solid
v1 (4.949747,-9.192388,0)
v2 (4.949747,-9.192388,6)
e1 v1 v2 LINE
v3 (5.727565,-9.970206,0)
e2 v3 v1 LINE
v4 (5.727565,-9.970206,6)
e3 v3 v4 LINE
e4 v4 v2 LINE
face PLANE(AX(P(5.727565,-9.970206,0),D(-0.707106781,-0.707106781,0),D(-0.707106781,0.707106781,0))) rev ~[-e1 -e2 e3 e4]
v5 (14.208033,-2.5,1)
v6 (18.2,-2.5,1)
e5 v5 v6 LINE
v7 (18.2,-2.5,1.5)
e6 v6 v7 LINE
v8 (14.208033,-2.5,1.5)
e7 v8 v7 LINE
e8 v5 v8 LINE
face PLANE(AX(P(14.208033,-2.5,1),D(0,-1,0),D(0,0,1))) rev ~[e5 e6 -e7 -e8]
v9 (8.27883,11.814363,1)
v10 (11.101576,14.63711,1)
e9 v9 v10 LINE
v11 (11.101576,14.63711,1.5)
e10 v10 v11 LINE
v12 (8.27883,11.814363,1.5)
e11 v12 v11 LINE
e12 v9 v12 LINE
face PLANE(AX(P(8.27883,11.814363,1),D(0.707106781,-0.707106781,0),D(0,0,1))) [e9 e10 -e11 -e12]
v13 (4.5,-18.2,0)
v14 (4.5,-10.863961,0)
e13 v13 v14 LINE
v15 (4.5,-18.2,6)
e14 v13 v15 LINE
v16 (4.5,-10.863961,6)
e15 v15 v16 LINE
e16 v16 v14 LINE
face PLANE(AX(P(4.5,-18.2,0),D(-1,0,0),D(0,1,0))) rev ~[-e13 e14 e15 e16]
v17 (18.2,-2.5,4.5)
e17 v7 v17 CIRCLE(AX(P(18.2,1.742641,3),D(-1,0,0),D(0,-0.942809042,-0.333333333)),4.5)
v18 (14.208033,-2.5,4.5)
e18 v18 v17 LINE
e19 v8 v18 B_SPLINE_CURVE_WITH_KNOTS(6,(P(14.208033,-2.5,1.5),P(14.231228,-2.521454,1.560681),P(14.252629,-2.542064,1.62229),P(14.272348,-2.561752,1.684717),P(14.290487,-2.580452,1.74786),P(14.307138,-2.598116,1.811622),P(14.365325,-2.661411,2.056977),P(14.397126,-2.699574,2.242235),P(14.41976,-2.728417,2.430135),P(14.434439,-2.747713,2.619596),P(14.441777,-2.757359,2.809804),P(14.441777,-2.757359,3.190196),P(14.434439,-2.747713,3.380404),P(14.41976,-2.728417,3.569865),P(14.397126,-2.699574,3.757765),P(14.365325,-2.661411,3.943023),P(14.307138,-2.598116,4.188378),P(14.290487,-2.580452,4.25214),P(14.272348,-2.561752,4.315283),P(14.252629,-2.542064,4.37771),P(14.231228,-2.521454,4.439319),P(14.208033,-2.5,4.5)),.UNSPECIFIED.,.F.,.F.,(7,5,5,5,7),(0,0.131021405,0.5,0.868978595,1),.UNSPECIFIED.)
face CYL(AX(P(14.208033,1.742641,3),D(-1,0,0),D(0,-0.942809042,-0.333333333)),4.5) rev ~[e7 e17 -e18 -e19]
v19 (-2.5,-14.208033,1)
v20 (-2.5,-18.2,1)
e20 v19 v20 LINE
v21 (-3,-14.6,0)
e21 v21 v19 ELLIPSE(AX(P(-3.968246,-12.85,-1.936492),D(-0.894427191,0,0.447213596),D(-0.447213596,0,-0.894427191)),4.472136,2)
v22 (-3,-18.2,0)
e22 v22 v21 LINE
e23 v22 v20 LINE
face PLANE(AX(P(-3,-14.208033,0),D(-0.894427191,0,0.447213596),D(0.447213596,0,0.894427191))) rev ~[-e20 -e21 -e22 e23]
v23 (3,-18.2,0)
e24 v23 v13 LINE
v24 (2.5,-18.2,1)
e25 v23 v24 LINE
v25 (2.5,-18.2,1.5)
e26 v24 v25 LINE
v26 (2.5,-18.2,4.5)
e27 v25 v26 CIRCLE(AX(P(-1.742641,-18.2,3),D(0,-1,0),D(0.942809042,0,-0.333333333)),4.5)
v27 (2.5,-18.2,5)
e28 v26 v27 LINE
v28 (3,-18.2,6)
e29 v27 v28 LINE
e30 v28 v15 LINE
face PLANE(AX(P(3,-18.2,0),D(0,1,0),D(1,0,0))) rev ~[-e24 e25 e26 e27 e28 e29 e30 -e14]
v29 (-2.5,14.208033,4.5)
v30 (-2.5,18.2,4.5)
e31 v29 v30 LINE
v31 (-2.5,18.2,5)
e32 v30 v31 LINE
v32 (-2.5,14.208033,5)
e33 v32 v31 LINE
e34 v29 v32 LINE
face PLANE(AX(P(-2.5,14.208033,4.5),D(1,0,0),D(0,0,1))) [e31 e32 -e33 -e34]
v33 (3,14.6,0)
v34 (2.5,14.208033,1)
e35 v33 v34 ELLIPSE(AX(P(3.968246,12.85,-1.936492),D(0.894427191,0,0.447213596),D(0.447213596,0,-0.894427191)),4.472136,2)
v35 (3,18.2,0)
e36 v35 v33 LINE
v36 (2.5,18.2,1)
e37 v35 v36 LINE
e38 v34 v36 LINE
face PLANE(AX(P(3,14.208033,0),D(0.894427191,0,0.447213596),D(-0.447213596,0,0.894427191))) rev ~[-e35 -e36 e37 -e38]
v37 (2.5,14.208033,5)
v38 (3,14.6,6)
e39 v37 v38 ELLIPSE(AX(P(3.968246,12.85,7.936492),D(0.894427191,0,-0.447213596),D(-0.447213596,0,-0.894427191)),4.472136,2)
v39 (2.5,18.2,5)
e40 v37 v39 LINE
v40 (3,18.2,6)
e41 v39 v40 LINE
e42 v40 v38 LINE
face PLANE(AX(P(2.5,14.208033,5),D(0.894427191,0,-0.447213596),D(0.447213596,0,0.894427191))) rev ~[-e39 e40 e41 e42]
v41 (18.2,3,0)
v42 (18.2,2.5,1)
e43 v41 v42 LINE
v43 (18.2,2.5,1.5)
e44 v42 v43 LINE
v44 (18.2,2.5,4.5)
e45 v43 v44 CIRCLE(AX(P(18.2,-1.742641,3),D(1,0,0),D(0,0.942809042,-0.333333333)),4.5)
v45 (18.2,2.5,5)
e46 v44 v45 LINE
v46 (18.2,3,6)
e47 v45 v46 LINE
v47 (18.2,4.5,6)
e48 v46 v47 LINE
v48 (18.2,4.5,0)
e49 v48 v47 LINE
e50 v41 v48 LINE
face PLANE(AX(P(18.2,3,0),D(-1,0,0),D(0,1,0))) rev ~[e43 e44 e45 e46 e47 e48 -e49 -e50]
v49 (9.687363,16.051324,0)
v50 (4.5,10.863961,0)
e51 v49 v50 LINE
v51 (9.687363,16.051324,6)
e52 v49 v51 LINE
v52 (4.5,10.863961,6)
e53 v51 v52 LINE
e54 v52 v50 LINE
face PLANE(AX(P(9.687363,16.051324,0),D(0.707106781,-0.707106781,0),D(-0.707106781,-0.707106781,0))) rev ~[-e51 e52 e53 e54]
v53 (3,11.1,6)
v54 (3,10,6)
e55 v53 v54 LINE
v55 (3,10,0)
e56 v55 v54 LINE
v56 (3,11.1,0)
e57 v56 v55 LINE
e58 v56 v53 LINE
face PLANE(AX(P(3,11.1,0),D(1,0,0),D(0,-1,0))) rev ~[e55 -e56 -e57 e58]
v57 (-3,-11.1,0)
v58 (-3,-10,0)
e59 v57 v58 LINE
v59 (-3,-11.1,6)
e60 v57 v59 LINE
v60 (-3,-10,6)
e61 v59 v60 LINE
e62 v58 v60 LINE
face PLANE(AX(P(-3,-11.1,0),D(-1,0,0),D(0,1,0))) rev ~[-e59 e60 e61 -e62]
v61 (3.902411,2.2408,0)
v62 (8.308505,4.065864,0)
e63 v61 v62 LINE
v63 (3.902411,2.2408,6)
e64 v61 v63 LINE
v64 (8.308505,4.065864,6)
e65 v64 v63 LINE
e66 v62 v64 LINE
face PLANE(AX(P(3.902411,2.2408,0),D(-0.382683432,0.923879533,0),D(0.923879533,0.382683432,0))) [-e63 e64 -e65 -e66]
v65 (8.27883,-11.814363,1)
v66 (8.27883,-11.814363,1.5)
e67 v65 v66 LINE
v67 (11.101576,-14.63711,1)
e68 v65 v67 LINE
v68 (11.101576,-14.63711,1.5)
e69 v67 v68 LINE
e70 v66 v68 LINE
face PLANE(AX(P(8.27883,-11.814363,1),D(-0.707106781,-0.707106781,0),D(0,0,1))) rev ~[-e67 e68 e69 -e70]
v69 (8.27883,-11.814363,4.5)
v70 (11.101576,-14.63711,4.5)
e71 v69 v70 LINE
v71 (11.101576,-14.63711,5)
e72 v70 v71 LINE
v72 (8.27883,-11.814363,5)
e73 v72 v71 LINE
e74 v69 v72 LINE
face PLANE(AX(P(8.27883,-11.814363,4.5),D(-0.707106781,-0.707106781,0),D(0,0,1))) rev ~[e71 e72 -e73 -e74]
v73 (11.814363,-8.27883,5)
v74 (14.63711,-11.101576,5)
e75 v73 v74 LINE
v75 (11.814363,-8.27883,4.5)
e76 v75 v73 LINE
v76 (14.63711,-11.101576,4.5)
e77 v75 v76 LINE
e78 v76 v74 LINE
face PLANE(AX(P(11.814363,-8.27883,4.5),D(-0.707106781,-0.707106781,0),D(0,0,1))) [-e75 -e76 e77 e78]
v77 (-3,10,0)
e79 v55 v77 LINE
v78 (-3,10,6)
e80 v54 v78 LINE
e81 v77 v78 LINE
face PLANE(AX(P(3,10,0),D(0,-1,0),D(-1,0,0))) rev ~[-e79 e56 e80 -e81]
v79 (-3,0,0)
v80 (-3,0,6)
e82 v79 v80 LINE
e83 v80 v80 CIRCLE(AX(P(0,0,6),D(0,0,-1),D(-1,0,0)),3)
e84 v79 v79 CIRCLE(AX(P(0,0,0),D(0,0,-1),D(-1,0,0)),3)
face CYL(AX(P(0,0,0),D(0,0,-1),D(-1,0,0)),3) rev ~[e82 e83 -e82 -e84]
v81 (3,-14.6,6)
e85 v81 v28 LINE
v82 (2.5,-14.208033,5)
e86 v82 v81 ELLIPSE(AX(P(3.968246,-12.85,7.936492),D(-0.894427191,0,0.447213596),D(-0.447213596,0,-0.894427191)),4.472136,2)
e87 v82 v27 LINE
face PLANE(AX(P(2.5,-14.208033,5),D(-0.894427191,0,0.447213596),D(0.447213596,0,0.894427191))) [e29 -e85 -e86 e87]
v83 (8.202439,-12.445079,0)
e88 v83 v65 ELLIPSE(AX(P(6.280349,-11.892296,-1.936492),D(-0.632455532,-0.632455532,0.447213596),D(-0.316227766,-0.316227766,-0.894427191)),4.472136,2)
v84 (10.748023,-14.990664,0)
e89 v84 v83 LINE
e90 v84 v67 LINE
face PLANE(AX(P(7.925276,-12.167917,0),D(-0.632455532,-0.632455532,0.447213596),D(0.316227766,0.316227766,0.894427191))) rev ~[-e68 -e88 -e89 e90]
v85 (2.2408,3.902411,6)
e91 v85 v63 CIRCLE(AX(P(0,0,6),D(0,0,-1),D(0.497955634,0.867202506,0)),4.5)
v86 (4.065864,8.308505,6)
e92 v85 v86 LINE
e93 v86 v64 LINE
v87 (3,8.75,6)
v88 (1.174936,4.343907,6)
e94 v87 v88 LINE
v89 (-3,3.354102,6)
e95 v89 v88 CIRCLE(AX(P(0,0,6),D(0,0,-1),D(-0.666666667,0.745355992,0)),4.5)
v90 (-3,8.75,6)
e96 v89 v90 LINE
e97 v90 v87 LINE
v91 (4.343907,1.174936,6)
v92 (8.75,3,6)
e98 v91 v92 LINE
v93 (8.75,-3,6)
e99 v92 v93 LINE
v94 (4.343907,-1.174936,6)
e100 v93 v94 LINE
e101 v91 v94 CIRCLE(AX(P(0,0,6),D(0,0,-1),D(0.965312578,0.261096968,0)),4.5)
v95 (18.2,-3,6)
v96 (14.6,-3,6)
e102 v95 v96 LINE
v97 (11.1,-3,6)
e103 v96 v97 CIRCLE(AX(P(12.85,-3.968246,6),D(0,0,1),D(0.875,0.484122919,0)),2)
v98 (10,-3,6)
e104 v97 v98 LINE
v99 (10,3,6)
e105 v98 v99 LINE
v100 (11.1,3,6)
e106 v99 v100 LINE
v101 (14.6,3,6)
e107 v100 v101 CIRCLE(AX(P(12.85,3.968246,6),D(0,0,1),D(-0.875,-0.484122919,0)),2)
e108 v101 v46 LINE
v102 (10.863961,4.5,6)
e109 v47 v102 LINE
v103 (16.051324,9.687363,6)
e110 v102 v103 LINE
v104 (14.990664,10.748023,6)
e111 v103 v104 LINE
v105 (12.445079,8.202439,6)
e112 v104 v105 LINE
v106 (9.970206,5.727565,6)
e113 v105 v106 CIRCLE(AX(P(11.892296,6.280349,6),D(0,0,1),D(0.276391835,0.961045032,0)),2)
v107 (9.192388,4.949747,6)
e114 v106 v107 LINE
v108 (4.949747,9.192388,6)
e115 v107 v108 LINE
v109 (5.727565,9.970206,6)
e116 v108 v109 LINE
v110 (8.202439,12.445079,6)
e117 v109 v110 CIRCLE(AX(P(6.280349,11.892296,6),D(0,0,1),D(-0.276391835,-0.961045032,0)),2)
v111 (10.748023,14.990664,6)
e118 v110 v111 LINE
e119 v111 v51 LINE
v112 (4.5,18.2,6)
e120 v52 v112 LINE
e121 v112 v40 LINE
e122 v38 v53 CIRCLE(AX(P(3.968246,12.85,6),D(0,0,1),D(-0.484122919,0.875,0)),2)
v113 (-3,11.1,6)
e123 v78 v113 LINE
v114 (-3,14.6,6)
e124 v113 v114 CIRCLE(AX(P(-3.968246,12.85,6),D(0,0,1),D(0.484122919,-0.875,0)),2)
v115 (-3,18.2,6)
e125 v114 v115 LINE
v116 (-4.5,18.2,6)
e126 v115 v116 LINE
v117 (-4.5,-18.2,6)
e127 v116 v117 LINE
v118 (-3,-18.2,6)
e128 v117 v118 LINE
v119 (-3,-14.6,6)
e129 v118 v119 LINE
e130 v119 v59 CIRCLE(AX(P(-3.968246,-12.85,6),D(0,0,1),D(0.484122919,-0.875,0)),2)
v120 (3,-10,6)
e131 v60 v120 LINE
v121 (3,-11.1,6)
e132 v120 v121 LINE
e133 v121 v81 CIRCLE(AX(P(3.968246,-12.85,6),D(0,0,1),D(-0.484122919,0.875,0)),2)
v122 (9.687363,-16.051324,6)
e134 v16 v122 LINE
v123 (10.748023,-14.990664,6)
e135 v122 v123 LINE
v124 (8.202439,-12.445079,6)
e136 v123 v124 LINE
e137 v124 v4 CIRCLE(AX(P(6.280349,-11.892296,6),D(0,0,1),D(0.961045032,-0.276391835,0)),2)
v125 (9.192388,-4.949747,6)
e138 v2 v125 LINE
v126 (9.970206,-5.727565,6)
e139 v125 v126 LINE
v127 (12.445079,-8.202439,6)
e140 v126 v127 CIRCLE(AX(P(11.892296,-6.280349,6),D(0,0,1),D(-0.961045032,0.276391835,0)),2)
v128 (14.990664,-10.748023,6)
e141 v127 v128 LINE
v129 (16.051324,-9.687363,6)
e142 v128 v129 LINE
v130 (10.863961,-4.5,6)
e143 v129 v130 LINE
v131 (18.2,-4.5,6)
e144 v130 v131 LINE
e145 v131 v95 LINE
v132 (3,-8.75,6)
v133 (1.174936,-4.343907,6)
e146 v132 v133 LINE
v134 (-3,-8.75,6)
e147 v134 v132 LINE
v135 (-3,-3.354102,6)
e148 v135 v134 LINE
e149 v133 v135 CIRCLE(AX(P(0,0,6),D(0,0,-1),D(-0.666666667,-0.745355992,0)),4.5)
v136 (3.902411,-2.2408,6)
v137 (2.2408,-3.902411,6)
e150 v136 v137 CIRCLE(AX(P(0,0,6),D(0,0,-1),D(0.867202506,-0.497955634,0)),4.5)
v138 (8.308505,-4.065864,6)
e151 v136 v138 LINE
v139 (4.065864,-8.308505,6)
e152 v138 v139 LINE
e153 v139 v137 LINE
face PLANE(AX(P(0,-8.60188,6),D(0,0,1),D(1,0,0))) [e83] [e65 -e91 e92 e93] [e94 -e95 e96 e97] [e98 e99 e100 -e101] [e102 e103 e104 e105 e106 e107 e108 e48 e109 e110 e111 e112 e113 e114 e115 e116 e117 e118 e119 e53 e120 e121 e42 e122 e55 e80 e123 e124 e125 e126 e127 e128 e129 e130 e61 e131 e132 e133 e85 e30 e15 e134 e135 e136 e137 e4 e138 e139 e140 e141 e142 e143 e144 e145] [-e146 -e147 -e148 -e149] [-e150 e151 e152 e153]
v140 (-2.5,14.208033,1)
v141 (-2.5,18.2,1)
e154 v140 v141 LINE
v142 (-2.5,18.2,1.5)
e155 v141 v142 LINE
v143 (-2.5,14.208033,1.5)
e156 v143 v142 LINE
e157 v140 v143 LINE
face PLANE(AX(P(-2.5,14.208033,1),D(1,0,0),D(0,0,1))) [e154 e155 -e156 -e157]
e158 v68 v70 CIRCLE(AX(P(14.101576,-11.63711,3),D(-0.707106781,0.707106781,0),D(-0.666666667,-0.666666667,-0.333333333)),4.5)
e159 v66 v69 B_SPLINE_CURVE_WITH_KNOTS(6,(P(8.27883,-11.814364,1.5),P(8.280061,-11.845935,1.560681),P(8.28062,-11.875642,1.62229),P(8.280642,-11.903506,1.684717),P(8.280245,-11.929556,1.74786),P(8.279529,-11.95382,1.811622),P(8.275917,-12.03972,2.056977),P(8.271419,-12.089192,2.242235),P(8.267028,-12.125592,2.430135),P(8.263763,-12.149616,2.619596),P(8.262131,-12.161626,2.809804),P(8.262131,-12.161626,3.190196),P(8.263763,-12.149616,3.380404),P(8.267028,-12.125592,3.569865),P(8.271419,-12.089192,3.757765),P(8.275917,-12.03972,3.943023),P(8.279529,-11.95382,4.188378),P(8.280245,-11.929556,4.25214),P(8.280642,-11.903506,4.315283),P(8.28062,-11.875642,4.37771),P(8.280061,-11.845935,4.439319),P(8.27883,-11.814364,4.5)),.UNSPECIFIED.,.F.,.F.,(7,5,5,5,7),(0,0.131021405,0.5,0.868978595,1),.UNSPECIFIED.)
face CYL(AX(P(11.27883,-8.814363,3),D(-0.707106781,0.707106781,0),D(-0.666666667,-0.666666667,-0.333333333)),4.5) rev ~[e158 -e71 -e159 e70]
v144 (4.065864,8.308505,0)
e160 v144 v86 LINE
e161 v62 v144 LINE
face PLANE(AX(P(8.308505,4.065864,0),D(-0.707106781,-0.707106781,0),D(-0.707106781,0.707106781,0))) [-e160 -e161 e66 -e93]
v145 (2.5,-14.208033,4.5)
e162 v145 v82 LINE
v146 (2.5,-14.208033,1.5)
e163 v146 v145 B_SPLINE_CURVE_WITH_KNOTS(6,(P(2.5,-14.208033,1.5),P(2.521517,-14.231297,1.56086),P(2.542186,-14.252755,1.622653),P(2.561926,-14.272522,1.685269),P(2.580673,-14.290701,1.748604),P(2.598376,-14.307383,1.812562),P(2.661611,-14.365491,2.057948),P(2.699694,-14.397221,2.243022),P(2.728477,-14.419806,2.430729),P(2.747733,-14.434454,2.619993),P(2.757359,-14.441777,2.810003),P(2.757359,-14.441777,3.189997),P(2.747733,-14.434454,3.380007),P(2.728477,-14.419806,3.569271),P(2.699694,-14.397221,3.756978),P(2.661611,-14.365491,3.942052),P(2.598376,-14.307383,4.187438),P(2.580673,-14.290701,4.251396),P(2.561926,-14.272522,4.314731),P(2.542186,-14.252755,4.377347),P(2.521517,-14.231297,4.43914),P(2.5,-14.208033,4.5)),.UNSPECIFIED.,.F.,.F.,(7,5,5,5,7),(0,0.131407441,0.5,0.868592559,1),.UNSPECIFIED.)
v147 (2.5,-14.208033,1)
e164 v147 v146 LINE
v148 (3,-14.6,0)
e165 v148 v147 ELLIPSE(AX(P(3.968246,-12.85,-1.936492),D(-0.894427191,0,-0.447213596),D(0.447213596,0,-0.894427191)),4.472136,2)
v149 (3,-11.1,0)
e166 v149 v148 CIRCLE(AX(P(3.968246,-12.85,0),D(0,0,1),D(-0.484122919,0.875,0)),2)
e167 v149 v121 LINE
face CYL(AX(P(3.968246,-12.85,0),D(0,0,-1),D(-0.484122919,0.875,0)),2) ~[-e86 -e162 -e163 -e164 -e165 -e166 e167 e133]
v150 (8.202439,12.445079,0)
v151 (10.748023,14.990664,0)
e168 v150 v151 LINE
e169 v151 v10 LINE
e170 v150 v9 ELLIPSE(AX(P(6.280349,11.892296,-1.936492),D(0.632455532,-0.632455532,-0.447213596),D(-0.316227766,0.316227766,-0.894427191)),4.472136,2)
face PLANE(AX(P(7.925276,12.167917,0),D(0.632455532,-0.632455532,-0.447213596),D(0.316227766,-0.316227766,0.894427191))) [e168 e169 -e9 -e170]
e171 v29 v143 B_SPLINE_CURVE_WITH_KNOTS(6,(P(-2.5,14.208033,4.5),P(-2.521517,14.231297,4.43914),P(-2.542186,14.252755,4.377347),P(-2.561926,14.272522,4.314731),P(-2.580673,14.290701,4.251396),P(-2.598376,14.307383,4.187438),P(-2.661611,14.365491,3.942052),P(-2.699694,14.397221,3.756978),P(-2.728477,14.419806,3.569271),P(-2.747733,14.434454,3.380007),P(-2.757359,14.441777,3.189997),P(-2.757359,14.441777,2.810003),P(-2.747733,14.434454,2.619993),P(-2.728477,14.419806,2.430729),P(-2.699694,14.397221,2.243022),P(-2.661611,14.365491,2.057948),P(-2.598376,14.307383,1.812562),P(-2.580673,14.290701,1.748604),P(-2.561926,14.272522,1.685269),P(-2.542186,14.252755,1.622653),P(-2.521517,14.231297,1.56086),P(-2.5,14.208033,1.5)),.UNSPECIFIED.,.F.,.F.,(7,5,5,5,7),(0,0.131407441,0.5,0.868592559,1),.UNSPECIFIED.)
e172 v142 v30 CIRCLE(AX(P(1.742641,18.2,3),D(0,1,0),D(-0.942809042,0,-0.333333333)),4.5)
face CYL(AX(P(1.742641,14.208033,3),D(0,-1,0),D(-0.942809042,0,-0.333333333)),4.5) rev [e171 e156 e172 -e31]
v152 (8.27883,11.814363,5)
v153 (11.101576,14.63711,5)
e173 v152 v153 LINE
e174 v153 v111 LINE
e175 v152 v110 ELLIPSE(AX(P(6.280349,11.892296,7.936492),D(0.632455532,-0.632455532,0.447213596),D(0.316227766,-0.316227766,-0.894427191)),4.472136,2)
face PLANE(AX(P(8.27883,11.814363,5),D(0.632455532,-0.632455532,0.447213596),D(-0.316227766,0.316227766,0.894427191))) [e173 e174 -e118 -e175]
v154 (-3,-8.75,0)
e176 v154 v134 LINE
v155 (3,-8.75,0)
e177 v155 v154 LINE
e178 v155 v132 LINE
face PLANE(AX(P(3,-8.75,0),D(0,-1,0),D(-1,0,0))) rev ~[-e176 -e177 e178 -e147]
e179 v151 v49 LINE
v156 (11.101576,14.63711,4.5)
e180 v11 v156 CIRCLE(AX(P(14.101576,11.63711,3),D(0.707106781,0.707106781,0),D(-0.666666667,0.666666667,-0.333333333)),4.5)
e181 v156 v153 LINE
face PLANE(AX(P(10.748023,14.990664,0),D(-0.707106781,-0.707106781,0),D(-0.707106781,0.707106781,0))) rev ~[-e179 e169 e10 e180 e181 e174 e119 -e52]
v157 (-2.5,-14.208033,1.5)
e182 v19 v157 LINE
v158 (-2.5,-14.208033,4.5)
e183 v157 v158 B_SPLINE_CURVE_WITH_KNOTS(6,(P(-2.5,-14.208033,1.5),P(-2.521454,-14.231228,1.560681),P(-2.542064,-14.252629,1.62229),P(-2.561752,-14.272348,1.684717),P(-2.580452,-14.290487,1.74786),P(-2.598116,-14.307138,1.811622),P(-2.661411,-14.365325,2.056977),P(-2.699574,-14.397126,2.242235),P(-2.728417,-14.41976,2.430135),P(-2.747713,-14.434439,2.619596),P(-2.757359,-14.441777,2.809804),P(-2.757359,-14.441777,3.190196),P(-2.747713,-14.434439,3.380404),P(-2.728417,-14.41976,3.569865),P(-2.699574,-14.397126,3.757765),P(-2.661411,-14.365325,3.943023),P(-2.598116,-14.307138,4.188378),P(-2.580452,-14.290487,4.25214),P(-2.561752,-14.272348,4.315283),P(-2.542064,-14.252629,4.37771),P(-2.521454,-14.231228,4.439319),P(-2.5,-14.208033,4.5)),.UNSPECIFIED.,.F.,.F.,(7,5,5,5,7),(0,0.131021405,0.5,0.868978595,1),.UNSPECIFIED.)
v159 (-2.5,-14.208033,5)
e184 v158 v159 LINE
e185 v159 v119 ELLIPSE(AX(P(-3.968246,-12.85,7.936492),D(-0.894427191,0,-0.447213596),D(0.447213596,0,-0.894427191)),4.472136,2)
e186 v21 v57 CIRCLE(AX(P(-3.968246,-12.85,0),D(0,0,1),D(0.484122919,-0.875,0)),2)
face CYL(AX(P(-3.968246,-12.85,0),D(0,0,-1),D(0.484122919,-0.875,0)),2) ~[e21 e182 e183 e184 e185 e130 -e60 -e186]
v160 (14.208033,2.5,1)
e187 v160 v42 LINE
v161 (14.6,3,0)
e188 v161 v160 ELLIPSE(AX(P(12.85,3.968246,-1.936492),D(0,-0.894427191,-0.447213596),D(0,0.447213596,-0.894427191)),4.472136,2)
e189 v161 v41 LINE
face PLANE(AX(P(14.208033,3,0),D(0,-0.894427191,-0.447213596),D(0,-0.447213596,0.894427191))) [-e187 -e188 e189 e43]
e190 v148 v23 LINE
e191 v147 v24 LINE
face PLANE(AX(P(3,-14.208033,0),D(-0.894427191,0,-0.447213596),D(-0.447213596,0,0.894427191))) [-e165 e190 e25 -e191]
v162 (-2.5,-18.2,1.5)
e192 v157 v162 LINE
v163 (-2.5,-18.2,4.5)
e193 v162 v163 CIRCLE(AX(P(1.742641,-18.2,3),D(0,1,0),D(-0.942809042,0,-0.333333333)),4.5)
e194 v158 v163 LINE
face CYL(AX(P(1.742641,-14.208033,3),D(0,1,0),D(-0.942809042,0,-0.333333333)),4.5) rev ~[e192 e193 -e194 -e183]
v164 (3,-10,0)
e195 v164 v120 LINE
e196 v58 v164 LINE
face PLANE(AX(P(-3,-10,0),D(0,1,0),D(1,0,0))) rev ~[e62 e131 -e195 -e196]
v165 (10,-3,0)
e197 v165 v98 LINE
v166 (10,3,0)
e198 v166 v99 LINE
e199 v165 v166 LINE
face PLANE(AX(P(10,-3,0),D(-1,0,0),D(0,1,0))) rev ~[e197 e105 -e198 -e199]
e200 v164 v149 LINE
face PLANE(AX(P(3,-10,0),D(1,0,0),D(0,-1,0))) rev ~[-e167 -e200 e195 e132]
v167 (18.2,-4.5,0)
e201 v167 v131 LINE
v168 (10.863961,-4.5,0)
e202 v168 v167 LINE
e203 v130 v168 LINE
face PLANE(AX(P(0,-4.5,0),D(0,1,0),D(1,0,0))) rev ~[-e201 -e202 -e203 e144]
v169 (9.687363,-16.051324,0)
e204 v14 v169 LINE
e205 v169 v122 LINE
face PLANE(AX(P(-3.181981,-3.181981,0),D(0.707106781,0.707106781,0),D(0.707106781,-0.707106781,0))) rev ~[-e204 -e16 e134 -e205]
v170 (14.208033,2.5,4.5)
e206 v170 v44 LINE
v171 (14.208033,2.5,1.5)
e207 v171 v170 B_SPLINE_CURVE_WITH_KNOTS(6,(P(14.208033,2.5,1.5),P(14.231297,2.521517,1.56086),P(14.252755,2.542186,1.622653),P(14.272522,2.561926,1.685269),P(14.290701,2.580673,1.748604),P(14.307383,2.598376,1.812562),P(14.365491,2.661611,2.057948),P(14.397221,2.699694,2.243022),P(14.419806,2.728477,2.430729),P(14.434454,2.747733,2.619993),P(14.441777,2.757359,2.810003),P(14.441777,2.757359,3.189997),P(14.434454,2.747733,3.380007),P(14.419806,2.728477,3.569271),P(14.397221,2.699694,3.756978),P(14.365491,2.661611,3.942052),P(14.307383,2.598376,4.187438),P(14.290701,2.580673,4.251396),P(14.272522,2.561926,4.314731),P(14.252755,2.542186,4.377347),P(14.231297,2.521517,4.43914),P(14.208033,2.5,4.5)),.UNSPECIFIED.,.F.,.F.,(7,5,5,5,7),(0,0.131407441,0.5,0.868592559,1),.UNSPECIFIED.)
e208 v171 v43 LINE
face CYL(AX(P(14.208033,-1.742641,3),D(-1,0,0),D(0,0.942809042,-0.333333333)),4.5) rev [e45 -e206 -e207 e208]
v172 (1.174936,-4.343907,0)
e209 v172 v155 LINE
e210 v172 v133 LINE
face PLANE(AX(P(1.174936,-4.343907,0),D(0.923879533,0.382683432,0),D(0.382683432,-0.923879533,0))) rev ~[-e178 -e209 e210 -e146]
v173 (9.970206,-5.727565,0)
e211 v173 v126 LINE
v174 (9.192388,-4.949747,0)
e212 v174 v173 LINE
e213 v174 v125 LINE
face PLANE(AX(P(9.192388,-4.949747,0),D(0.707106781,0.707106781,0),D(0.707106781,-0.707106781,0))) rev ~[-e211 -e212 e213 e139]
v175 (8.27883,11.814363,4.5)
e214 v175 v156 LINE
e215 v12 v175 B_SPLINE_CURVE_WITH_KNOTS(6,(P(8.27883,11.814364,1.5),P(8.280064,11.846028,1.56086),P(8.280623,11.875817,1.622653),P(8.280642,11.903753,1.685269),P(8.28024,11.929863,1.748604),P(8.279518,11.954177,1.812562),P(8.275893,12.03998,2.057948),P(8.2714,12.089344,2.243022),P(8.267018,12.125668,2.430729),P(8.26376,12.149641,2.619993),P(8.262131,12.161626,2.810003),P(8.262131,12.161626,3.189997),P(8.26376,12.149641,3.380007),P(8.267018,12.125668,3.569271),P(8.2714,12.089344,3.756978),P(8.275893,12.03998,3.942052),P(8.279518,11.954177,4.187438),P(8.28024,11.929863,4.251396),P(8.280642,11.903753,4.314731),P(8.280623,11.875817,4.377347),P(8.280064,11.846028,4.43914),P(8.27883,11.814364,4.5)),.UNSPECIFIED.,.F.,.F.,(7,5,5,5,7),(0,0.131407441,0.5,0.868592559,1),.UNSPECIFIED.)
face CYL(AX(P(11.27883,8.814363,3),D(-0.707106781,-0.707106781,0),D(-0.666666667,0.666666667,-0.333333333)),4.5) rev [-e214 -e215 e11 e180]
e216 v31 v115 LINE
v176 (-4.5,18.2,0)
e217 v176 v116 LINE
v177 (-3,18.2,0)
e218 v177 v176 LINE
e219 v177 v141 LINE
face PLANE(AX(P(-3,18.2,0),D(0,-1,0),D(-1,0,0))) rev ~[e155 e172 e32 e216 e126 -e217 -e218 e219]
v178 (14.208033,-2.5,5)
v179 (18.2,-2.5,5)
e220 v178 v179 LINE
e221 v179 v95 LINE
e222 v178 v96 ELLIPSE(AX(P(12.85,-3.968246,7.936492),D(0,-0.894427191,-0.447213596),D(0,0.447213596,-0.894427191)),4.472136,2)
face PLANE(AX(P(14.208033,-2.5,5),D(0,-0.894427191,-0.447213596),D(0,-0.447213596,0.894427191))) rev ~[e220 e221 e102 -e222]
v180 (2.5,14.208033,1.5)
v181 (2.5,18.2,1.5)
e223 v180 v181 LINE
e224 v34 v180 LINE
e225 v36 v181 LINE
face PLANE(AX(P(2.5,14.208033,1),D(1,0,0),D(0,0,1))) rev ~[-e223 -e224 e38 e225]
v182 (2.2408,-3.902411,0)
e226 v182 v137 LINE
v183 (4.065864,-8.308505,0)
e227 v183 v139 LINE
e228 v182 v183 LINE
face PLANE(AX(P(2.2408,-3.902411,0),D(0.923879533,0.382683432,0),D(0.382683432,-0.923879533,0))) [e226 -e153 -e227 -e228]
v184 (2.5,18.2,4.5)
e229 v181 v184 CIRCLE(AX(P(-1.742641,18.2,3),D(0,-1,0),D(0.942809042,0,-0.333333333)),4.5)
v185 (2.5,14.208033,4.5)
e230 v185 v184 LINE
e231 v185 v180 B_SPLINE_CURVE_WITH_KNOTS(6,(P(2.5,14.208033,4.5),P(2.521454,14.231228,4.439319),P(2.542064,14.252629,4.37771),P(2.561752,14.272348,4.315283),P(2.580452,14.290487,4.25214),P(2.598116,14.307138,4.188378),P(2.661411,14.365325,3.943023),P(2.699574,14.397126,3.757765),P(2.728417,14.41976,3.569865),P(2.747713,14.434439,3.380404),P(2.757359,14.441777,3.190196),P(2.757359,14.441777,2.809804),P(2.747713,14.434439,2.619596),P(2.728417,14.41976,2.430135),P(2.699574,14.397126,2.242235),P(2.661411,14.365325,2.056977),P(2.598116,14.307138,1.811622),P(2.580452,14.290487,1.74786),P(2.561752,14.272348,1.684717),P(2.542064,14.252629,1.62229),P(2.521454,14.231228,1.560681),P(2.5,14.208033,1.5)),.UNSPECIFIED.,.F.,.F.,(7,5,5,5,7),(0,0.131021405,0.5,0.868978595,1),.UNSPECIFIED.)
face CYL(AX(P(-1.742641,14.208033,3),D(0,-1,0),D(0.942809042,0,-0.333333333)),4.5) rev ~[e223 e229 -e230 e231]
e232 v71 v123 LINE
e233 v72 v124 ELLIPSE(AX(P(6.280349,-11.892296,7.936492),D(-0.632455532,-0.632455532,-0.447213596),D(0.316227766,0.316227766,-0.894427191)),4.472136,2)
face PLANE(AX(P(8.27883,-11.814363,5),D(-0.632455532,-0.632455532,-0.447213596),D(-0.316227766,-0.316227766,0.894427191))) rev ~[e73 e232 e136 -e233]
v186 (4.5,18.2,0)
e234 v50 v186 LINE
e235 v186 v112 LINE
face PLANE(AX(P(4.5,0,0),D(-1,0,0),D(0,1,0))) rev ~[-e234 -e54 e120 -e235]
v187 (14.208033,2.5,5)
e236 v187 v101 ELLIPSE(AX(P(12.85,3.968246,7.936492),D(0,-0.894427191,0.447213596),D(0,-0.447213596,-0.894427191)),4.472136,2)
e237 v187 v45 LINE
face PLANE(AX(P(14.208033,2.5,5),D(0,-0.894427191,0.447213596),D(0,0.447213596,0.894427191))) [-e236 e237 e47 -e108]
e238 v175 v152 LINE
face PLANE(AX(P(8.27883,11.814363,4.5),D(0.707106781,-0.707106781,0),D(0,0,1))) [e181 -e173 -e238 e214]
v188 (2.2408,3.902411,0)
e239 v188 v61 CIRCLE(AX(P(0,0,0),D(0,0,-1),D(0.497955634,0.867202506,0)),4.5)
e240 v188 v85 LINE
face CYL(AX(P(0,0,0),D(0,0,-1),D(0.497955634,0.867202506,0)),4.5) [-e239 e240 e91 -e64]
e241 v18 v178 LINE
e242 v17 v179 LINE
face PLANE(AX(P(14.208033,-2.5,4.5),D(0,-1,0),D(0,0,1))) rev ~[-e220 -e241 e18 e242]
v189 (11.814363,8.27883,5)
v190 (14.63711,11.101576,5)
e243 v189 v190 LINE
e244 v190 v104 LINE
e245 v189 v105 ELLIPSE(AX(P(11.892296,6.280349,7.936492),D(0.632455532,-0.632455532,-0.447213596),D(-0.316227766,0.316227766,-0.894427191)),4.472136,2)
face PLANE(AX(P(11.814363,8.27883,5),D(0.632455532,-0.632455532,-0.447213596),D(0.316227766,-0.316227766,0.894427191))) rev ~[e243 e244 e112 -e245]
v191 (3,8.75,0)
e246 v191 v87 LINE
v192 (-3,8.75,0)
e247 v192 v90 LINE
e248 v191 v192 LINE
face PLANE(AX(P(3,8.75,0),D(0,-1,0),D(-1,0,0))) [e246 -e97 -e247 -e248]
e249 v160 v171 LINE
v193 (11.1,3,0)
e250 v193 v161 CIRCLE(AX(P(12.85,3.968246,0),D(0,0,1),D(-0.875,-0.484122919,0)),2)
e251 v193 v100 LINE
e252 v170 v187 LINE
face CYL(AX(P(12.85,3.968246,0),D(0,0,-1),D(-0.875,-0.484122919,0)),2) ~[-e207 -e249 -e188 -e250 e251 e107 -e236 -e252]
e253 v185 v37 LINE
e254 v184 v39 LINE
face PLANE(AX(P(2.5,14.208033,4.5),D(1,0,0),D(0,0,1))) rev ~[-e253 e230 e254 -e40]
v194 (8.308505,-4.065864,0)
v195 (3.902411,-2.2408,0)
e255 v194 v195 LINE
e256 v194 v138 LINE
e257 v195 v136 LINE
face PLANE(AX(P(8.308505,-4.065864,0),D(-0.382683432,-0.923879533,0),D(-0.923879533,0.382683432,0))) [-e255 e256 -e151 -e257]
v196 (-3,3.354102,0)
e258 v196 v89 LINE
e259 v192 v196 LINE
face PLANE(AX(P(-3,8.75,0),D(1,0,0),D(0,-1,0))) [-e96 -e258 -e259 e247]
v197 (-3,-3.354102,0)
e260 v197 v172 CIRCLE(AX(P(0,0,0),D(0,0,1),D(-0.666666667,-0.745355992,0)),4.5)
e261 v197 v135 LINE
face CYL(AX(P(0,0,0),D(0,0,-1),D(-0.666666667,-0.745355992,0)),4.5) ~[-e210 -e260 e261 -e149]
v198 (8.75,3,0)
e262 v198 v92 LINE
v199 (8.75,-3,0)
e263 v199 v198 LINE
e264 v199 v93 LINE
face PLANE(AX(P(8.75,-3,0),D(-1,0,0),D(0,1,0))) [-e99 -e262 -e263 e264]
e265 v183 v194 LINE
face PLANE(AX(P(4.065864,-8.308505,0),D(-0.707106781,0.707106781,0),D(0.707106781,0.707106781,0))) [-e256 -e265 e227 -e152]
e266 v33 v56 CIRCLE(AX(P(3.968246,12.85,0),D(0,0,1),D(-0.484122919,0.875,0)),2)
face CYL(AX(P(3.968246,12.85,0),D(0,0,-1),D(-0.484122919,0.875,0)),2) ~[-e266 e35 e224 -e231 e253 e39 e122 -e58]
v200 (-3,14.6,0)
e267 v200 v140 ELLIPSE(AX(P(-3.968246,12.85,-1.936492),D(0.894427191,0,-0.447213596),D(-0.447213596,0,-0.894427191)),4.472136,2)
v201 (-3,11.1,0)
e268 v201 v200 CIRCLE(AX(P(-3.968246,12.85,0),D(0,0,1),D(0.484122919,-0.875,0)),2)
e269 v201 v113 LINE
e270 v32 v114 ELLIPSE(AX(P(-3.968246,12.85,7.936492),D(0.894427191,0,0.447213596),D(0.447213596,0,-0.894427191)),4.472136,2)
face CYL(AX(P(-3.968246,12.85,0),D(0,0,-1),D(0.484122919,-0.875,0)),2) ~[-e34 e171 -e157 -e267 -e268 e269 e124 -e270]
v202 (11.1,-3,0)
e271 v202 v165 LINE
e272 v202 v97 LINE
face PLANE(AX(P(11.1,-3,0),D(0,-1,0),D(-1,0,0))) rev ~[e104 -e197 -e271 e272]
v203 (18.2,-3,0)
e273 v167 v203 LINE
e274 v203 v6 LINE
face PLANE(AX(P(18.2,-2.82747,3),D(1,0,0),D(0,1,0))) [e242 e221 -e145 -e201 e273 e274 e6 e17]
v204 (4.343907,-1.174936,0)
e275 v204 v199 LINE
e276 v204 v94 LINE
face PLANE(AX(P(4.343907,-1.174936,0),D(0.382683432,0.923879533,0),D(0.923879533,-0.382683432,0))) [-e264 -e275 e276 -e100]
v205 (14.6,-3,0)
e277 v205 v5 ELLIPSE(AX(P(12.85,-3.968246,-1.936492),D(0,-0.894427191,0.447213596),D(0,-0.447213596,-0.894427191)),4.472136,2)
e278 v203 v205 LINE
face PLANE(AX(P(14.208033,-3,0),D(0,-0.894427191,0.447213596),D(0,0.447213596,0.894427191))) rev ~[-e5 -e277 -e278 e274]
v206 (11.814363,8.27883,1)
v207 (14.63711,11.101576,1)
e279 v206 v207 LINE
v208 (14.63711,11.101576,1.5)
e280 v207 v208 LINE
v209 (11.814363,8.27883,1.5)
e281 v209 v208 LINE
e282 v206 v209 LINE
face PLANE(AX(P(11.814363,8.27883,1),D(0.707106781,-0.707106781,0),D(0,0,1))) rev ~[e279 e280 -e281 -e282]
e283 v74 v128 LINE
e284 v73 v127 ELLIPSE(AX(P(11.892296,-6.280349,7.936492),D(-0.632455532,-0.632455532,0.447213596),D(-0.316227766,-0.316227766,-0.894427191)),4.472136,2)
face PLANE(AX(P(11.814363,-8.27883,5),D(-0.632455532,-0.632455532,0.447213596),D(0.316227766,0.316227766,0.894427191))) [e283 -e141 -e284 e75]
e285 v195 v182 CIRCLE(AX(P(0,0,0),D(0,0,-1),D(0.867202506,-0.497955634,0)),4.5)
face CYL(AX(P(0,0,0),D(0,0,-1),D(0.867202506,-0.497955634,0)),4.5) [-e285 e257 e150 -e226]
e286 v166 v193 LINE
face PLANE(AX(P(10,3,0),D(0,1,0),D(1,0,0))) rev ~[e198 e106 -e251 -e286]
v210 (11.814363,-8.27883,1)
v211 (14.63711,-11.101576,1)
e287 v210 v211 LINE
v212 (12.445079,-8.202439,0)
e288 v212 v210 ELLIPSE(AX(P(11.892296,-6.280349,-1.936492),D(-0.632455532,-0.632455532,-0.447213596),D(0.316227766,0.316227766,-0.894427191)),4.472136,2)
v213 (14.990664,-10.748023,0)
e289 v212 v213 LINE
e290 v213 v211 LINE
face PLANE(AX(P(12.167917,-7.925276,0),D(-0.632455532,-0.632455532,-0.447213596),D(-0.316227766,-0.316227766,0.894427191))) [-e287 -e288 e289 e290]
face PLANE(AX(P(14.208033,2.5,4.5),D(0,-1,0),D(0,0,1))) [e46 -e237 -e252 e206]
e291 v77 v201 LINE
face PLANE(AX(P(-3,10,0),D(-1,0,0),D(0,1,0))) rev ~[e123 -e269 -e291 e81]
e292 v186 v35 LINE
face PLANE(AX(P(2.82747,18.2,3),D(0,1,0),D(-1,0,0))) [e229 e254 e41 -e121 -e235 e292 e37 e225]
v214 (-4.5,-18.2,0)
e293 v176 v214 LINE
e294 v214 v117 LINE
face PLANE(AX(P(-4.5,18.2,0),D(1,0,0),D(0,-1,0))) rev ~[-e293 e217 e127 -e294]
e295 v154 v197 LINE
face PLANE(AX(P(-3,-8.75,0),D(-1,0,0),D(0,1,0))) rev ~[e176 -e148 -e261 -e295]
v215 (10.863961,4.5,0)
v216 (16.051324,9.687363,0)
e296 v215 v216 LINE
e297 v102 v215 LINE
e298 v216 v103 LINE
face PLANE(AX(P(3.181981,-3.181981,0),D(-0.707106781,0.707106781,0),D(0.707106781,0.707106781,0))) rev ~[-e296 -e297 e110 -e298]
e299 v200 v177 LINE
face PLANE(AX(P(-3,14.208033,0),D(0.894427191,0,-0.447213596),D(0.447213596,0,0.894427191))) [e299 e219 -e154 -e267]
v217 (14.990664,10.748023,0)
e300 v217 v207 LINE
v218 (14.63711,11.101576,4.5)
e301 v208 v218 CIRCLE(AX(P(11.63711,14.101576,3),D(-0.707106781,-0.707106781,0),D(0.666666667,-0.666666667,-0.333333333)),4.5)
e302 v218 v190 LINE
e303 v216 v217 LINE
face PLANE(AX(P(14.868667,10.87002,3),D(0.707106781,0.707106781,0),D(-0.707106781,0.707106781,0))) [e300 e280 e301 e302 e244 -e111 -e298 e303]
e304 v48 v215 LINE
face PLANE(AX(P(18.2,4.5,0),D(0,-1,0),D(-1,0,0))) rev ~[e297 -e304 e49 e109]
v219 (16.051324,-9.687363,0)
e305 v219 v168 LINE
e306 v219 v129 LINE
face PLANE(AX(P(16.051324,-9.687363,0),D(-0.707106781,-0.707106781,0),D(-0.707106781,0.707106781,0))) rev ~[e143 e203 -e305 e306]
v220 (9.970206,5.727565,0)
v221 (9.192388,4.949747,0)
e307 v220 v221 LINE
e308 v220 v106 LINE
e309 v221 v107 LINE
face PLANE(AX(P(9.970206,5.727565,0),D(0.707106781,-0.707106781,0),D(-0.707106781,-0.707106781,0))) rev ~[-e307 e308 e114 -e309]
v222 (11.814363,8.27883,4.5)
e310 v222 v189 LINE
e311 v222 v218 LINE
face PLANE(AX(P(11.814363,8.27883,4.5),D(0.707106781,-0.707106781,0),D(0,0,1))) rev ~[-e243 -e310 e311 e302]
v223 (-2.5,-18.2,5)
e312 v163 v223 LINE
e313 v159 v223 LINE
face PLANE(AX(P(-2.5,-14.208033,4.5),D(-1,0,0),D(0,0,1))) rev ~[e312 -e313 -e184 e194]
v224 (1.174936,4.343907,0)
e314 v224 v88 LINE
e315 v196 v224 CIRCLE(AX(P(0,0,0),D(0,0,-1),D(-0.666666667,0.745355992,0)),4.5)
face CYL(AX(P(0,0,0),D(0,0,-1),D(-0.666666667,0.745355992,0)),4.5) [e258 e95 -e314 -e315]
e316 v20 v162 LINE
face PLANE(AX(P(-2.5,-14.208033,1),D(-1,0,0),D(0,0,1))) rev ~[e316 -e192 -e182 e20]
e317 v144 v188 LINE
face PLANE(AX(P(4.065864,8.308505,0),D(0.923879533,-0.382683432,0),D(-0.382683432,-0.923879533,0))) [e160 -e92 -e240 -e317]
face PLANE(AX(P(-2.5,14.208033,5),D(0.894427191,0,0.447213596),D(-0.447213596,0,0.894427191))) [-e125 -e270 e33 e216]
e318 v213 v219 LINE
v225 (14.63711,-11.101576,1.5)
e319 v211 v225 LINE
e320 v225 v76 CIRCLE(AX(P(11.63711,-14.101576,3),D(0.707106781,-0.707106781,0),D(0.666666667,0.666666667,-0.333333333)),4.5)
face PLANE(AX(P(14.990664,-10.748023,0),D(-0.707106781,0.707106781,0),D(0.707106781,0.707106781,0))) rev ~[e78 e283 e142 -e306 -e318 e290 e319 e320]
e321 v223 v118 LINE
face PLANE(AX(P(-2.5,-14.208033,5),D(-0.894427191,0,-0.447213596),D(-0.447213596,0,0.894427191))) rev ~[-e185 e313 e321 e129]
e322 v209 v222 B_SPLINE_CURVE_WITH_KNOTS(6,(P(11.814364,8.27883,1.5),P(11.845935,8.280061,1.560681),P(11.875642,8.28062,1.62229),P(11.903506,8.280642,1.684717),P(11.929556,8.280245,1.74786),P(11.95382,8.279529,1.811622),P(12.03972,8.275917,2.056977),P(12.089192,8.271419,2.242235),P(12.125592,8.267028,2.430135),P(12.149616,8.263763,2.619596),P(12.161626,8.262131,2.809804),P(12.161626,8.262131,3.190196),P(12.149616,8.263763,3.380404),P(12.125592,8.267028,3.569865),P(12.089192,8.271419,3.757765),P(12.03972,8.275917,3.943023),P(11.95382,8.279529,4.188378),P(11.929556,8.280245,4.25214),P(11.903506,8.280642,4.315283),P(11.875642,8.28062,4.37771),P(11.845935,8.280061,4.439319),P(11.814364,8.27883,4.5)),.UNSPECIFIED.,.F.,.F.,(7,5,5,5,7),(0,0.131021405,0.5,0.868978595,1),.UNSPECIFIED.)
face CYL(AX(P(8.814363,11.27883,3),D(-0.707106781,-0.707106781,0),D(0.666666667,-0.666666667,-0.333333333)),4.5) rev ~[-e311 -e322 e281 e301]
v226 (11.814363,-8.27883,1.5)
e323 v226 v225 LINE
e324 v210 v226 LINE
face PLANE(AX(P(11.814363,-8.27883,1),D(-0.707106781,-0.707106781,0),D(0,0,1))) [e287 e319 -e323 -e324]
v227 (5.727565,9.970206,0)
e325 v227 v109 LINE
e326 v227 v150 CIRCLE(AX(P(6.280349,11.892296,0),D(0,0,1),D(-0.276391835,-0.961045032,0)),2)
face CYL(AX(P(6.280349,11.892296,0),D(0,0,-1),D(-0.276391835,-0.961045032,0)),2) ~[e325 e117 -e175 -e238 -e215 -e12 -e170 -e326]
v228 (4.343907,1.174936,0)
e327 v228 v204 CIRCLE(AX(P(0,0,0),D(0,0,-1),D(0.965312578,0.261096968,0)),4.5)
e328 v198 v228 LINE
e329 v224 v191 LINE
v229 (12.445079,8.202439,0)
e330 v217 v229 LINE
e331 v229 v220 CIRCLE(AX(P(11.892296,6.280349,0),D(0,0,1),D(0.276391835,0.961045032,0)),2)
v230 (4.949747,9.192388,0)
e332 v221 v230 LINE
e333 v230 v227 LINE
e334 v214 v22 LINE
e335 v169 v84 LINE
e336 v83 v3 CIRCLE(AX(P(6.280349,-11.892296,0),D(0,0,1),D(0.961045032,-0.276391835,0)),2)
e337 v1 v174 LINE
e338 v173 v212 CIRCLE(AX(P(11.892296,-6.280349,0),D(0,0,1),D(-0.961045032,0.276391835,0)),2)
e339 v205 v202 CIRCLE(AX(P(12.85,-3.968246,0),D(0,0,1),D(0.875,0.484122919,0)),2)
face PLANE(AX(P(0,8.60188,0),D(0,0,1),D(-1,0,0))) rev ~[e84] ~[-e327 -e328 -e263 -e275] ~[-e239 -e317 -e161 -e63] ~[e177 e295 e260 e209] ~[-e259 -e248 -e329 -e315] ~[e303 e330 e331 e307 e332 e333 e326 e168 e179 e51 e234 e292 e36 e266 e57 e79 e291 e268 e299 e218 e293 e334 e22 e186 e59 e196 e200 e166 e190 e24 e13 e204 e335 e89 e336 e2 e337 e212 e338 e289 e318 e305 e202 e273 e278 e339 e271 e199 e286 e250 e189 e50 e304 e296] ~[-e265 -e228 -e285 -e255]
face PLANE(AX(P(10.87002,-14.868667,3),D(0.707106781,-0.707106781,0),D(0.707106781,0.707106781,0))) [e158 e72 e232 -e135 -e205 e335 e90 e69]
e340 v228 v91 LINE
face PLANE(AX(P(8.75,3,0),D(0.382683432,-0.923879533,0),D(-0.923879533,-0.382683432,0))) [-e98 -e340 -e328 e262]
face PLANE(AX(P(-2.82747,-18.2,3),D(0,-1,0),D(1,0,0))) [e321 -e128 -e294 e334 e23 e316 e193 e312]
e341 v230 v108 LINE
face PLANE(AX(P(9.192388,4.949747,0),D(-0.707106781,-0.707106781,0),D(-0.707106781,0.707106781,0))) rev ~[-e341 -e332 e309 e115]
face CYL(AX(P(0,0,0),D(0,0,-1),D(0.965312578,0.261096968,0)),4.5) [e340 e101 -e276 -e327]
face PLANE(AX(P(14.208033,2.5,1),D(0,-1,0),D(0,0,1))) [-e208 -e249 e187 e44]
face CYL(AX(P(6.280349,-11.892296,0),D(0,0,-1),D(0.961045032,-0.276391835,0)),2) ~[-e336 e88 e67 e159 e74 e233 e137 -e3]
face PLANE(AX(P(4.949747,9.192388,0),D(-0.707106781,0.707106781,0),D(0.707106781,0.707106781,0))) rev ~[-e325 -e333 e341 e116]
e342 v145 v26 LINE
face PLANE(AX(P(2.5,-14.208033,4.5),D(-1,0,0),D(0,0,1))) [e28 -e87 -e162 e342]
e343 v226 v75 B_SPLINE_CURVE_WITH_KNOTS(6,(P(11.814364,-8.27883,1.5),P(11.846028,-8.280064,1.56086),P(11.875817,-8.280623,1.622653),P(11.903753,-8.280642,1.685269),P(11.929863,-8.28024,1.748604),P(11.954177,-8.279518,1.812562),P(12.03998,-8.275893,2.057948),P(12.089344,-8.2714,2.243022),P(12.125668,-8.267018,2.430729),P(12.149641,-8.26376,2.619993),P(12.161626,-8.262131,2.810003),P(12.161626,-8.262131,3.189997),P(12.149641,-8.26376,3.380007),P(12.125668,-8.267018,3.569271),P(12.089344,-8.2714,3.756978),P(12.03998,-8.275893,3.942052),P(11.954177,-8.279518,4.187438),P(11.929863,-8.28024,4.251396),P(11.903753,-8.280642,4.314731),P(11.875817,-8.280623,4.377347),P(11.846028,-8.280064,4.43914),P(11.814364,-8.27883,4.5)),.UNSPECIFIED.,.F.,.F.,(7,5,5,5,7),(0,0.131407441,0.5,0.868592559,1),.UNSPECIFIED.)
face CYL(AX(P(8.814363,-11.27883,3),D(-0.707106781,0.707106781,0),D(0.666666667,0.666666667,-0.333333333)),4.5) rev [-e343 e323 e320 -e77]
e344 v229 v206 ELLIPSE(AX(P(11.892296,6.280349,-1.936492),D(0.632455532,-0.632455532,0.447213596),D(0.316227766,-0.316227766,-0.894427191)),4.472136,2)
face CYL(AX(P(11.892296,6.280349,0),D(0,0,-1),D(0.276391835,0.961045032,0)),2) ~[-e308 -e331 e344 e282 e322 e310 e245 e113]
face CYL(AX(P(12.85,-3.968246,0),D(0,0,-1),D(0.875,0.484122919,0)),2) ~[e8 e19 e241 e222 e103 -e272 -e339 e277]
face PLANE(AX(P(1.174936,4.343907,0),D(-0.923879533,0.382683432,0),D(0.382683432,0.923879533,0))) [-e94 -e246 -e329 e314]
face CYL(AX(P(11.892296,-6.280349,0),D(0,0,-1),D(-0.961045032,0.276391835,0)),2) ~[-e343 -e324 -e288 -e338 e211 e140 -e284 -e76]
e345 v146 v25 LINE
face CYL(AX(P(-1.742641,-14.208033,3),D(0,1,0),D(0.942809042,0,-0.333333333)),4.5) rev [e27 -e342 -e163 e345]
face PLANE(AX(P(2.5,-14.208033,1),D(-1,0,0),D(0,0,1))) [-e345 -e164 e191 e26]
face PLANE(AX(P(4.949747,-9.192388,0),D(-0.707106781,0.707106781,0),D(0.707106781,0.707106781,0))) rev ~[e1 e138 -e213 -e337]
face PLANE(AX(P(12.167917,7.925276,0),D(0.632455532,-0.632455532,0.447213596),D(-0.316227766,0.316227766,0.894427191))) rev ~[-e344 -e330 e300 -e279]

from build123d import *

# Parameters (mm, degrees)
EXTRUDE_1_DEPTH          = 6
EXTRUDE_2_REACH          = 25.907
PATTERN_CIRCULAR_1_COUNT = 5
PATTERN_CIRCULAR_1_ANGLE = 180
SKETCH_4_R               = 3
CUT_EXTRUDE_1_DEPTH      = 27.42877236


with BuildPart() as part:
    # 草图1 → 凸台-拉伸1 (new body)
    with BuildSketch(Plane.XY):
        with BuildLine():
            Line((-4.5, 0), (-4.5, -18.2))
            Line((-4.5, -18.2), (-3, -18.2))
            Line((-3, -18.2), (-3, -14.6))
            ThreePointArc((-3, -14.6), (-1.968245837, -12.85), (-3, -11.1))
            Line((-3, -11.1), (-3, -10))
            Line((-3, -10), (3, -10))
            Line((3, -10), (3, -11.1))
            ThreePointArc((3, -11.1), (1.968245837, -12.85), (3, -14.6))
            Line((3, -14.6), (3, -18.2))
            Line((3, -18.2), (4.5, -18.2))
            Line((4.5, -18.2), (4.5, 0))
            ThreePointArc((4.5, 0), (0, 4.5), (-4.5, 0))
        make_face()
    extrude_1 = extrude(amount=EXTRUDE_1_DEPTH)

    # 草图3 → 凸台-拉伸2 (add, up to next)
    with BuildSketch(Plane.XZ.offset(18.2), mode=Mode.PRIVATE) as extrude_2_sk1:
        with BuildLine():
            Line((-3, 6), (-3, 0))
            Line((-3, 0), (-2.5, 1))
            Line((-2.5, 1), (-2.5, 1.5))
            ThreePointArc((-2.5, 1.5), (-2.757359313, 3), (-2.5, 4.5))
            Line((-2.5, 4.5), (-2.5, 5))
            Line((-2.5, 5), (-3, 6))
        make_face()
    extrude_2_tool1 = extrude(extrude_2_sk1.sketch, amount=-EXTRUDE_2_REACH, mode=Mode.PRIVATE) - part.part
    # 草图3 → 凸台-拉伸2 (add, up to next)
    with BuildSketch(Plane.XZ.offset(18.2), mode=Mode.PRIVATE) as extrude_2_sk2:
        with BuildLine():
            Line((3, 0), (2.5, 1))
            Line((2.5, 1), (2.5, 1.5))
            ThreePointArc((2.5, 1.5), (2.757359313, 3), (2.5, 4.5))
            Line((2.5, 4.5), (2.5, 5))
            Line((2.5, 5), (3, 6))
            Line((3, 6), (3, 0))
        make_face()
    extrude_2_tool2 = extrude(extrude_2_sk2.sketch, amount=-EXTRUDE_2_REACH, mode=Mode.PRIVATE) - part.part
    extrude_2_1 = extrude_2_tool1.solids().sort_by_distance((-2.809362, -18.2, 3))[0]
    add(extrude_2_1)
    extrude_2_2 = extrude_2_tool2.solids().sort_by_distance((2.809362, -18.2, 3))[0]
    add(extrude_2_2)
    extrude_2 = extrude_2_1 + extrude_2_2  # 凸台-拉伸2 as one shape, for the pattern or mirror that repeats it

    # 阵列(圆周)1: 凸台-拉伸1, 凸台-拉伸2 ×5 about axis
    pattern_circular_1_axis = Axis((0, 0, 0), (0, 0, 1))
    add([extrude_1.rotate(pattern_circular_1_axis, i * PATTERN_CIRCULAR_1_ANGLE / (PATTERN_CIRCULAR_1_COUNT - 1)) for i in range(1, PATTERN_CIRCULAR_1_COUNT)])
    add([extrude_2.rotate(pattern_circular_1_axis, i * PATTERN_CIRCULAR_1_ANGLE / (PATTERN_CIRCULAR_1_COUNT - 1)) for i in range(1, PATTERN_CIRCULAR_1_COUNT)])

    # 草图4 → 切除-拉伸1 (cut, through all)
    with BuildSketch(Plane(origin=(0, 0, 0), x_dir=(-1, 0, 0), z_dir=(0, 0, -1))):
        Circle(SKETCH_4_R)
        with BuildLine():
            Line((3, -8.75), (3, -3.354101966))
            ThreePointArc((3, -3.354101966), (1.038095674, -4.378625055), (-1.174936357, -4.343906601))
            Line((-1.174936357, -4.343906601), (-3, -8.75))
            Line((-3, -8.75), (3, -8.75))
        make_face()
        with BuildLine():
            Line((-4.065863992, -8.308504679), (-8.308504679, -4.065863992))
            Line((-8.308504679, -4.065863992), (-3.90241128, -2.240800349))
            ThreePointArc((-3.90241128, -2.240800349), (-3.181980515, -3.181980515), (-2.240800349, -3.90241128))
            Line((-2.240800349, -3.90241128), (-4.065863992, -8.308504679))
        make_face()
        with BuildLine():
            Line((3, 8.75), (3, 3.354101966))
            ThreePointArc((3, 3.354101966), (1.038095674, 4.378625055), (-1.174936357, 4.343906601))
            Line((-1.174936357, 4.343906601), (-3, 8.75))
            Line((-3, 8.75), (3, 8.75))
        make_face()
        with BuildLine():
            Line((-8.75, 3), (-4.343906601, 1.174936357))
            ThreePointArc((-4.343906601, 1.174936357), (-4.5, 0), (-4.343906601, -1.174936357))
            Line((-4.343906601, -1.174936357), (-8.75, -3))
            Line((-8.75, -3), (-8.75, 3))
        make_face()
        with BuildLine():
            Line((-4.065863992, 8.308504679), (-2.240800349, 3.90241128))
            ThreePointArc((-2.240800349, 3.90241128), (-3.181980515, 3.181980515), (-3.90241128, 2.240800349))
            Line((-3.90241128, 2.240800349), (-8.308504679, 4.065863992))
            Line((-8.308504679, 4.065863992), (-4.065863992, 8.308504679))
        make_face()
    extrude(amount=-CUT_EXTRUDE_1_DEPTH, mode=Mode.SUBTRACT)


solid = part.part
